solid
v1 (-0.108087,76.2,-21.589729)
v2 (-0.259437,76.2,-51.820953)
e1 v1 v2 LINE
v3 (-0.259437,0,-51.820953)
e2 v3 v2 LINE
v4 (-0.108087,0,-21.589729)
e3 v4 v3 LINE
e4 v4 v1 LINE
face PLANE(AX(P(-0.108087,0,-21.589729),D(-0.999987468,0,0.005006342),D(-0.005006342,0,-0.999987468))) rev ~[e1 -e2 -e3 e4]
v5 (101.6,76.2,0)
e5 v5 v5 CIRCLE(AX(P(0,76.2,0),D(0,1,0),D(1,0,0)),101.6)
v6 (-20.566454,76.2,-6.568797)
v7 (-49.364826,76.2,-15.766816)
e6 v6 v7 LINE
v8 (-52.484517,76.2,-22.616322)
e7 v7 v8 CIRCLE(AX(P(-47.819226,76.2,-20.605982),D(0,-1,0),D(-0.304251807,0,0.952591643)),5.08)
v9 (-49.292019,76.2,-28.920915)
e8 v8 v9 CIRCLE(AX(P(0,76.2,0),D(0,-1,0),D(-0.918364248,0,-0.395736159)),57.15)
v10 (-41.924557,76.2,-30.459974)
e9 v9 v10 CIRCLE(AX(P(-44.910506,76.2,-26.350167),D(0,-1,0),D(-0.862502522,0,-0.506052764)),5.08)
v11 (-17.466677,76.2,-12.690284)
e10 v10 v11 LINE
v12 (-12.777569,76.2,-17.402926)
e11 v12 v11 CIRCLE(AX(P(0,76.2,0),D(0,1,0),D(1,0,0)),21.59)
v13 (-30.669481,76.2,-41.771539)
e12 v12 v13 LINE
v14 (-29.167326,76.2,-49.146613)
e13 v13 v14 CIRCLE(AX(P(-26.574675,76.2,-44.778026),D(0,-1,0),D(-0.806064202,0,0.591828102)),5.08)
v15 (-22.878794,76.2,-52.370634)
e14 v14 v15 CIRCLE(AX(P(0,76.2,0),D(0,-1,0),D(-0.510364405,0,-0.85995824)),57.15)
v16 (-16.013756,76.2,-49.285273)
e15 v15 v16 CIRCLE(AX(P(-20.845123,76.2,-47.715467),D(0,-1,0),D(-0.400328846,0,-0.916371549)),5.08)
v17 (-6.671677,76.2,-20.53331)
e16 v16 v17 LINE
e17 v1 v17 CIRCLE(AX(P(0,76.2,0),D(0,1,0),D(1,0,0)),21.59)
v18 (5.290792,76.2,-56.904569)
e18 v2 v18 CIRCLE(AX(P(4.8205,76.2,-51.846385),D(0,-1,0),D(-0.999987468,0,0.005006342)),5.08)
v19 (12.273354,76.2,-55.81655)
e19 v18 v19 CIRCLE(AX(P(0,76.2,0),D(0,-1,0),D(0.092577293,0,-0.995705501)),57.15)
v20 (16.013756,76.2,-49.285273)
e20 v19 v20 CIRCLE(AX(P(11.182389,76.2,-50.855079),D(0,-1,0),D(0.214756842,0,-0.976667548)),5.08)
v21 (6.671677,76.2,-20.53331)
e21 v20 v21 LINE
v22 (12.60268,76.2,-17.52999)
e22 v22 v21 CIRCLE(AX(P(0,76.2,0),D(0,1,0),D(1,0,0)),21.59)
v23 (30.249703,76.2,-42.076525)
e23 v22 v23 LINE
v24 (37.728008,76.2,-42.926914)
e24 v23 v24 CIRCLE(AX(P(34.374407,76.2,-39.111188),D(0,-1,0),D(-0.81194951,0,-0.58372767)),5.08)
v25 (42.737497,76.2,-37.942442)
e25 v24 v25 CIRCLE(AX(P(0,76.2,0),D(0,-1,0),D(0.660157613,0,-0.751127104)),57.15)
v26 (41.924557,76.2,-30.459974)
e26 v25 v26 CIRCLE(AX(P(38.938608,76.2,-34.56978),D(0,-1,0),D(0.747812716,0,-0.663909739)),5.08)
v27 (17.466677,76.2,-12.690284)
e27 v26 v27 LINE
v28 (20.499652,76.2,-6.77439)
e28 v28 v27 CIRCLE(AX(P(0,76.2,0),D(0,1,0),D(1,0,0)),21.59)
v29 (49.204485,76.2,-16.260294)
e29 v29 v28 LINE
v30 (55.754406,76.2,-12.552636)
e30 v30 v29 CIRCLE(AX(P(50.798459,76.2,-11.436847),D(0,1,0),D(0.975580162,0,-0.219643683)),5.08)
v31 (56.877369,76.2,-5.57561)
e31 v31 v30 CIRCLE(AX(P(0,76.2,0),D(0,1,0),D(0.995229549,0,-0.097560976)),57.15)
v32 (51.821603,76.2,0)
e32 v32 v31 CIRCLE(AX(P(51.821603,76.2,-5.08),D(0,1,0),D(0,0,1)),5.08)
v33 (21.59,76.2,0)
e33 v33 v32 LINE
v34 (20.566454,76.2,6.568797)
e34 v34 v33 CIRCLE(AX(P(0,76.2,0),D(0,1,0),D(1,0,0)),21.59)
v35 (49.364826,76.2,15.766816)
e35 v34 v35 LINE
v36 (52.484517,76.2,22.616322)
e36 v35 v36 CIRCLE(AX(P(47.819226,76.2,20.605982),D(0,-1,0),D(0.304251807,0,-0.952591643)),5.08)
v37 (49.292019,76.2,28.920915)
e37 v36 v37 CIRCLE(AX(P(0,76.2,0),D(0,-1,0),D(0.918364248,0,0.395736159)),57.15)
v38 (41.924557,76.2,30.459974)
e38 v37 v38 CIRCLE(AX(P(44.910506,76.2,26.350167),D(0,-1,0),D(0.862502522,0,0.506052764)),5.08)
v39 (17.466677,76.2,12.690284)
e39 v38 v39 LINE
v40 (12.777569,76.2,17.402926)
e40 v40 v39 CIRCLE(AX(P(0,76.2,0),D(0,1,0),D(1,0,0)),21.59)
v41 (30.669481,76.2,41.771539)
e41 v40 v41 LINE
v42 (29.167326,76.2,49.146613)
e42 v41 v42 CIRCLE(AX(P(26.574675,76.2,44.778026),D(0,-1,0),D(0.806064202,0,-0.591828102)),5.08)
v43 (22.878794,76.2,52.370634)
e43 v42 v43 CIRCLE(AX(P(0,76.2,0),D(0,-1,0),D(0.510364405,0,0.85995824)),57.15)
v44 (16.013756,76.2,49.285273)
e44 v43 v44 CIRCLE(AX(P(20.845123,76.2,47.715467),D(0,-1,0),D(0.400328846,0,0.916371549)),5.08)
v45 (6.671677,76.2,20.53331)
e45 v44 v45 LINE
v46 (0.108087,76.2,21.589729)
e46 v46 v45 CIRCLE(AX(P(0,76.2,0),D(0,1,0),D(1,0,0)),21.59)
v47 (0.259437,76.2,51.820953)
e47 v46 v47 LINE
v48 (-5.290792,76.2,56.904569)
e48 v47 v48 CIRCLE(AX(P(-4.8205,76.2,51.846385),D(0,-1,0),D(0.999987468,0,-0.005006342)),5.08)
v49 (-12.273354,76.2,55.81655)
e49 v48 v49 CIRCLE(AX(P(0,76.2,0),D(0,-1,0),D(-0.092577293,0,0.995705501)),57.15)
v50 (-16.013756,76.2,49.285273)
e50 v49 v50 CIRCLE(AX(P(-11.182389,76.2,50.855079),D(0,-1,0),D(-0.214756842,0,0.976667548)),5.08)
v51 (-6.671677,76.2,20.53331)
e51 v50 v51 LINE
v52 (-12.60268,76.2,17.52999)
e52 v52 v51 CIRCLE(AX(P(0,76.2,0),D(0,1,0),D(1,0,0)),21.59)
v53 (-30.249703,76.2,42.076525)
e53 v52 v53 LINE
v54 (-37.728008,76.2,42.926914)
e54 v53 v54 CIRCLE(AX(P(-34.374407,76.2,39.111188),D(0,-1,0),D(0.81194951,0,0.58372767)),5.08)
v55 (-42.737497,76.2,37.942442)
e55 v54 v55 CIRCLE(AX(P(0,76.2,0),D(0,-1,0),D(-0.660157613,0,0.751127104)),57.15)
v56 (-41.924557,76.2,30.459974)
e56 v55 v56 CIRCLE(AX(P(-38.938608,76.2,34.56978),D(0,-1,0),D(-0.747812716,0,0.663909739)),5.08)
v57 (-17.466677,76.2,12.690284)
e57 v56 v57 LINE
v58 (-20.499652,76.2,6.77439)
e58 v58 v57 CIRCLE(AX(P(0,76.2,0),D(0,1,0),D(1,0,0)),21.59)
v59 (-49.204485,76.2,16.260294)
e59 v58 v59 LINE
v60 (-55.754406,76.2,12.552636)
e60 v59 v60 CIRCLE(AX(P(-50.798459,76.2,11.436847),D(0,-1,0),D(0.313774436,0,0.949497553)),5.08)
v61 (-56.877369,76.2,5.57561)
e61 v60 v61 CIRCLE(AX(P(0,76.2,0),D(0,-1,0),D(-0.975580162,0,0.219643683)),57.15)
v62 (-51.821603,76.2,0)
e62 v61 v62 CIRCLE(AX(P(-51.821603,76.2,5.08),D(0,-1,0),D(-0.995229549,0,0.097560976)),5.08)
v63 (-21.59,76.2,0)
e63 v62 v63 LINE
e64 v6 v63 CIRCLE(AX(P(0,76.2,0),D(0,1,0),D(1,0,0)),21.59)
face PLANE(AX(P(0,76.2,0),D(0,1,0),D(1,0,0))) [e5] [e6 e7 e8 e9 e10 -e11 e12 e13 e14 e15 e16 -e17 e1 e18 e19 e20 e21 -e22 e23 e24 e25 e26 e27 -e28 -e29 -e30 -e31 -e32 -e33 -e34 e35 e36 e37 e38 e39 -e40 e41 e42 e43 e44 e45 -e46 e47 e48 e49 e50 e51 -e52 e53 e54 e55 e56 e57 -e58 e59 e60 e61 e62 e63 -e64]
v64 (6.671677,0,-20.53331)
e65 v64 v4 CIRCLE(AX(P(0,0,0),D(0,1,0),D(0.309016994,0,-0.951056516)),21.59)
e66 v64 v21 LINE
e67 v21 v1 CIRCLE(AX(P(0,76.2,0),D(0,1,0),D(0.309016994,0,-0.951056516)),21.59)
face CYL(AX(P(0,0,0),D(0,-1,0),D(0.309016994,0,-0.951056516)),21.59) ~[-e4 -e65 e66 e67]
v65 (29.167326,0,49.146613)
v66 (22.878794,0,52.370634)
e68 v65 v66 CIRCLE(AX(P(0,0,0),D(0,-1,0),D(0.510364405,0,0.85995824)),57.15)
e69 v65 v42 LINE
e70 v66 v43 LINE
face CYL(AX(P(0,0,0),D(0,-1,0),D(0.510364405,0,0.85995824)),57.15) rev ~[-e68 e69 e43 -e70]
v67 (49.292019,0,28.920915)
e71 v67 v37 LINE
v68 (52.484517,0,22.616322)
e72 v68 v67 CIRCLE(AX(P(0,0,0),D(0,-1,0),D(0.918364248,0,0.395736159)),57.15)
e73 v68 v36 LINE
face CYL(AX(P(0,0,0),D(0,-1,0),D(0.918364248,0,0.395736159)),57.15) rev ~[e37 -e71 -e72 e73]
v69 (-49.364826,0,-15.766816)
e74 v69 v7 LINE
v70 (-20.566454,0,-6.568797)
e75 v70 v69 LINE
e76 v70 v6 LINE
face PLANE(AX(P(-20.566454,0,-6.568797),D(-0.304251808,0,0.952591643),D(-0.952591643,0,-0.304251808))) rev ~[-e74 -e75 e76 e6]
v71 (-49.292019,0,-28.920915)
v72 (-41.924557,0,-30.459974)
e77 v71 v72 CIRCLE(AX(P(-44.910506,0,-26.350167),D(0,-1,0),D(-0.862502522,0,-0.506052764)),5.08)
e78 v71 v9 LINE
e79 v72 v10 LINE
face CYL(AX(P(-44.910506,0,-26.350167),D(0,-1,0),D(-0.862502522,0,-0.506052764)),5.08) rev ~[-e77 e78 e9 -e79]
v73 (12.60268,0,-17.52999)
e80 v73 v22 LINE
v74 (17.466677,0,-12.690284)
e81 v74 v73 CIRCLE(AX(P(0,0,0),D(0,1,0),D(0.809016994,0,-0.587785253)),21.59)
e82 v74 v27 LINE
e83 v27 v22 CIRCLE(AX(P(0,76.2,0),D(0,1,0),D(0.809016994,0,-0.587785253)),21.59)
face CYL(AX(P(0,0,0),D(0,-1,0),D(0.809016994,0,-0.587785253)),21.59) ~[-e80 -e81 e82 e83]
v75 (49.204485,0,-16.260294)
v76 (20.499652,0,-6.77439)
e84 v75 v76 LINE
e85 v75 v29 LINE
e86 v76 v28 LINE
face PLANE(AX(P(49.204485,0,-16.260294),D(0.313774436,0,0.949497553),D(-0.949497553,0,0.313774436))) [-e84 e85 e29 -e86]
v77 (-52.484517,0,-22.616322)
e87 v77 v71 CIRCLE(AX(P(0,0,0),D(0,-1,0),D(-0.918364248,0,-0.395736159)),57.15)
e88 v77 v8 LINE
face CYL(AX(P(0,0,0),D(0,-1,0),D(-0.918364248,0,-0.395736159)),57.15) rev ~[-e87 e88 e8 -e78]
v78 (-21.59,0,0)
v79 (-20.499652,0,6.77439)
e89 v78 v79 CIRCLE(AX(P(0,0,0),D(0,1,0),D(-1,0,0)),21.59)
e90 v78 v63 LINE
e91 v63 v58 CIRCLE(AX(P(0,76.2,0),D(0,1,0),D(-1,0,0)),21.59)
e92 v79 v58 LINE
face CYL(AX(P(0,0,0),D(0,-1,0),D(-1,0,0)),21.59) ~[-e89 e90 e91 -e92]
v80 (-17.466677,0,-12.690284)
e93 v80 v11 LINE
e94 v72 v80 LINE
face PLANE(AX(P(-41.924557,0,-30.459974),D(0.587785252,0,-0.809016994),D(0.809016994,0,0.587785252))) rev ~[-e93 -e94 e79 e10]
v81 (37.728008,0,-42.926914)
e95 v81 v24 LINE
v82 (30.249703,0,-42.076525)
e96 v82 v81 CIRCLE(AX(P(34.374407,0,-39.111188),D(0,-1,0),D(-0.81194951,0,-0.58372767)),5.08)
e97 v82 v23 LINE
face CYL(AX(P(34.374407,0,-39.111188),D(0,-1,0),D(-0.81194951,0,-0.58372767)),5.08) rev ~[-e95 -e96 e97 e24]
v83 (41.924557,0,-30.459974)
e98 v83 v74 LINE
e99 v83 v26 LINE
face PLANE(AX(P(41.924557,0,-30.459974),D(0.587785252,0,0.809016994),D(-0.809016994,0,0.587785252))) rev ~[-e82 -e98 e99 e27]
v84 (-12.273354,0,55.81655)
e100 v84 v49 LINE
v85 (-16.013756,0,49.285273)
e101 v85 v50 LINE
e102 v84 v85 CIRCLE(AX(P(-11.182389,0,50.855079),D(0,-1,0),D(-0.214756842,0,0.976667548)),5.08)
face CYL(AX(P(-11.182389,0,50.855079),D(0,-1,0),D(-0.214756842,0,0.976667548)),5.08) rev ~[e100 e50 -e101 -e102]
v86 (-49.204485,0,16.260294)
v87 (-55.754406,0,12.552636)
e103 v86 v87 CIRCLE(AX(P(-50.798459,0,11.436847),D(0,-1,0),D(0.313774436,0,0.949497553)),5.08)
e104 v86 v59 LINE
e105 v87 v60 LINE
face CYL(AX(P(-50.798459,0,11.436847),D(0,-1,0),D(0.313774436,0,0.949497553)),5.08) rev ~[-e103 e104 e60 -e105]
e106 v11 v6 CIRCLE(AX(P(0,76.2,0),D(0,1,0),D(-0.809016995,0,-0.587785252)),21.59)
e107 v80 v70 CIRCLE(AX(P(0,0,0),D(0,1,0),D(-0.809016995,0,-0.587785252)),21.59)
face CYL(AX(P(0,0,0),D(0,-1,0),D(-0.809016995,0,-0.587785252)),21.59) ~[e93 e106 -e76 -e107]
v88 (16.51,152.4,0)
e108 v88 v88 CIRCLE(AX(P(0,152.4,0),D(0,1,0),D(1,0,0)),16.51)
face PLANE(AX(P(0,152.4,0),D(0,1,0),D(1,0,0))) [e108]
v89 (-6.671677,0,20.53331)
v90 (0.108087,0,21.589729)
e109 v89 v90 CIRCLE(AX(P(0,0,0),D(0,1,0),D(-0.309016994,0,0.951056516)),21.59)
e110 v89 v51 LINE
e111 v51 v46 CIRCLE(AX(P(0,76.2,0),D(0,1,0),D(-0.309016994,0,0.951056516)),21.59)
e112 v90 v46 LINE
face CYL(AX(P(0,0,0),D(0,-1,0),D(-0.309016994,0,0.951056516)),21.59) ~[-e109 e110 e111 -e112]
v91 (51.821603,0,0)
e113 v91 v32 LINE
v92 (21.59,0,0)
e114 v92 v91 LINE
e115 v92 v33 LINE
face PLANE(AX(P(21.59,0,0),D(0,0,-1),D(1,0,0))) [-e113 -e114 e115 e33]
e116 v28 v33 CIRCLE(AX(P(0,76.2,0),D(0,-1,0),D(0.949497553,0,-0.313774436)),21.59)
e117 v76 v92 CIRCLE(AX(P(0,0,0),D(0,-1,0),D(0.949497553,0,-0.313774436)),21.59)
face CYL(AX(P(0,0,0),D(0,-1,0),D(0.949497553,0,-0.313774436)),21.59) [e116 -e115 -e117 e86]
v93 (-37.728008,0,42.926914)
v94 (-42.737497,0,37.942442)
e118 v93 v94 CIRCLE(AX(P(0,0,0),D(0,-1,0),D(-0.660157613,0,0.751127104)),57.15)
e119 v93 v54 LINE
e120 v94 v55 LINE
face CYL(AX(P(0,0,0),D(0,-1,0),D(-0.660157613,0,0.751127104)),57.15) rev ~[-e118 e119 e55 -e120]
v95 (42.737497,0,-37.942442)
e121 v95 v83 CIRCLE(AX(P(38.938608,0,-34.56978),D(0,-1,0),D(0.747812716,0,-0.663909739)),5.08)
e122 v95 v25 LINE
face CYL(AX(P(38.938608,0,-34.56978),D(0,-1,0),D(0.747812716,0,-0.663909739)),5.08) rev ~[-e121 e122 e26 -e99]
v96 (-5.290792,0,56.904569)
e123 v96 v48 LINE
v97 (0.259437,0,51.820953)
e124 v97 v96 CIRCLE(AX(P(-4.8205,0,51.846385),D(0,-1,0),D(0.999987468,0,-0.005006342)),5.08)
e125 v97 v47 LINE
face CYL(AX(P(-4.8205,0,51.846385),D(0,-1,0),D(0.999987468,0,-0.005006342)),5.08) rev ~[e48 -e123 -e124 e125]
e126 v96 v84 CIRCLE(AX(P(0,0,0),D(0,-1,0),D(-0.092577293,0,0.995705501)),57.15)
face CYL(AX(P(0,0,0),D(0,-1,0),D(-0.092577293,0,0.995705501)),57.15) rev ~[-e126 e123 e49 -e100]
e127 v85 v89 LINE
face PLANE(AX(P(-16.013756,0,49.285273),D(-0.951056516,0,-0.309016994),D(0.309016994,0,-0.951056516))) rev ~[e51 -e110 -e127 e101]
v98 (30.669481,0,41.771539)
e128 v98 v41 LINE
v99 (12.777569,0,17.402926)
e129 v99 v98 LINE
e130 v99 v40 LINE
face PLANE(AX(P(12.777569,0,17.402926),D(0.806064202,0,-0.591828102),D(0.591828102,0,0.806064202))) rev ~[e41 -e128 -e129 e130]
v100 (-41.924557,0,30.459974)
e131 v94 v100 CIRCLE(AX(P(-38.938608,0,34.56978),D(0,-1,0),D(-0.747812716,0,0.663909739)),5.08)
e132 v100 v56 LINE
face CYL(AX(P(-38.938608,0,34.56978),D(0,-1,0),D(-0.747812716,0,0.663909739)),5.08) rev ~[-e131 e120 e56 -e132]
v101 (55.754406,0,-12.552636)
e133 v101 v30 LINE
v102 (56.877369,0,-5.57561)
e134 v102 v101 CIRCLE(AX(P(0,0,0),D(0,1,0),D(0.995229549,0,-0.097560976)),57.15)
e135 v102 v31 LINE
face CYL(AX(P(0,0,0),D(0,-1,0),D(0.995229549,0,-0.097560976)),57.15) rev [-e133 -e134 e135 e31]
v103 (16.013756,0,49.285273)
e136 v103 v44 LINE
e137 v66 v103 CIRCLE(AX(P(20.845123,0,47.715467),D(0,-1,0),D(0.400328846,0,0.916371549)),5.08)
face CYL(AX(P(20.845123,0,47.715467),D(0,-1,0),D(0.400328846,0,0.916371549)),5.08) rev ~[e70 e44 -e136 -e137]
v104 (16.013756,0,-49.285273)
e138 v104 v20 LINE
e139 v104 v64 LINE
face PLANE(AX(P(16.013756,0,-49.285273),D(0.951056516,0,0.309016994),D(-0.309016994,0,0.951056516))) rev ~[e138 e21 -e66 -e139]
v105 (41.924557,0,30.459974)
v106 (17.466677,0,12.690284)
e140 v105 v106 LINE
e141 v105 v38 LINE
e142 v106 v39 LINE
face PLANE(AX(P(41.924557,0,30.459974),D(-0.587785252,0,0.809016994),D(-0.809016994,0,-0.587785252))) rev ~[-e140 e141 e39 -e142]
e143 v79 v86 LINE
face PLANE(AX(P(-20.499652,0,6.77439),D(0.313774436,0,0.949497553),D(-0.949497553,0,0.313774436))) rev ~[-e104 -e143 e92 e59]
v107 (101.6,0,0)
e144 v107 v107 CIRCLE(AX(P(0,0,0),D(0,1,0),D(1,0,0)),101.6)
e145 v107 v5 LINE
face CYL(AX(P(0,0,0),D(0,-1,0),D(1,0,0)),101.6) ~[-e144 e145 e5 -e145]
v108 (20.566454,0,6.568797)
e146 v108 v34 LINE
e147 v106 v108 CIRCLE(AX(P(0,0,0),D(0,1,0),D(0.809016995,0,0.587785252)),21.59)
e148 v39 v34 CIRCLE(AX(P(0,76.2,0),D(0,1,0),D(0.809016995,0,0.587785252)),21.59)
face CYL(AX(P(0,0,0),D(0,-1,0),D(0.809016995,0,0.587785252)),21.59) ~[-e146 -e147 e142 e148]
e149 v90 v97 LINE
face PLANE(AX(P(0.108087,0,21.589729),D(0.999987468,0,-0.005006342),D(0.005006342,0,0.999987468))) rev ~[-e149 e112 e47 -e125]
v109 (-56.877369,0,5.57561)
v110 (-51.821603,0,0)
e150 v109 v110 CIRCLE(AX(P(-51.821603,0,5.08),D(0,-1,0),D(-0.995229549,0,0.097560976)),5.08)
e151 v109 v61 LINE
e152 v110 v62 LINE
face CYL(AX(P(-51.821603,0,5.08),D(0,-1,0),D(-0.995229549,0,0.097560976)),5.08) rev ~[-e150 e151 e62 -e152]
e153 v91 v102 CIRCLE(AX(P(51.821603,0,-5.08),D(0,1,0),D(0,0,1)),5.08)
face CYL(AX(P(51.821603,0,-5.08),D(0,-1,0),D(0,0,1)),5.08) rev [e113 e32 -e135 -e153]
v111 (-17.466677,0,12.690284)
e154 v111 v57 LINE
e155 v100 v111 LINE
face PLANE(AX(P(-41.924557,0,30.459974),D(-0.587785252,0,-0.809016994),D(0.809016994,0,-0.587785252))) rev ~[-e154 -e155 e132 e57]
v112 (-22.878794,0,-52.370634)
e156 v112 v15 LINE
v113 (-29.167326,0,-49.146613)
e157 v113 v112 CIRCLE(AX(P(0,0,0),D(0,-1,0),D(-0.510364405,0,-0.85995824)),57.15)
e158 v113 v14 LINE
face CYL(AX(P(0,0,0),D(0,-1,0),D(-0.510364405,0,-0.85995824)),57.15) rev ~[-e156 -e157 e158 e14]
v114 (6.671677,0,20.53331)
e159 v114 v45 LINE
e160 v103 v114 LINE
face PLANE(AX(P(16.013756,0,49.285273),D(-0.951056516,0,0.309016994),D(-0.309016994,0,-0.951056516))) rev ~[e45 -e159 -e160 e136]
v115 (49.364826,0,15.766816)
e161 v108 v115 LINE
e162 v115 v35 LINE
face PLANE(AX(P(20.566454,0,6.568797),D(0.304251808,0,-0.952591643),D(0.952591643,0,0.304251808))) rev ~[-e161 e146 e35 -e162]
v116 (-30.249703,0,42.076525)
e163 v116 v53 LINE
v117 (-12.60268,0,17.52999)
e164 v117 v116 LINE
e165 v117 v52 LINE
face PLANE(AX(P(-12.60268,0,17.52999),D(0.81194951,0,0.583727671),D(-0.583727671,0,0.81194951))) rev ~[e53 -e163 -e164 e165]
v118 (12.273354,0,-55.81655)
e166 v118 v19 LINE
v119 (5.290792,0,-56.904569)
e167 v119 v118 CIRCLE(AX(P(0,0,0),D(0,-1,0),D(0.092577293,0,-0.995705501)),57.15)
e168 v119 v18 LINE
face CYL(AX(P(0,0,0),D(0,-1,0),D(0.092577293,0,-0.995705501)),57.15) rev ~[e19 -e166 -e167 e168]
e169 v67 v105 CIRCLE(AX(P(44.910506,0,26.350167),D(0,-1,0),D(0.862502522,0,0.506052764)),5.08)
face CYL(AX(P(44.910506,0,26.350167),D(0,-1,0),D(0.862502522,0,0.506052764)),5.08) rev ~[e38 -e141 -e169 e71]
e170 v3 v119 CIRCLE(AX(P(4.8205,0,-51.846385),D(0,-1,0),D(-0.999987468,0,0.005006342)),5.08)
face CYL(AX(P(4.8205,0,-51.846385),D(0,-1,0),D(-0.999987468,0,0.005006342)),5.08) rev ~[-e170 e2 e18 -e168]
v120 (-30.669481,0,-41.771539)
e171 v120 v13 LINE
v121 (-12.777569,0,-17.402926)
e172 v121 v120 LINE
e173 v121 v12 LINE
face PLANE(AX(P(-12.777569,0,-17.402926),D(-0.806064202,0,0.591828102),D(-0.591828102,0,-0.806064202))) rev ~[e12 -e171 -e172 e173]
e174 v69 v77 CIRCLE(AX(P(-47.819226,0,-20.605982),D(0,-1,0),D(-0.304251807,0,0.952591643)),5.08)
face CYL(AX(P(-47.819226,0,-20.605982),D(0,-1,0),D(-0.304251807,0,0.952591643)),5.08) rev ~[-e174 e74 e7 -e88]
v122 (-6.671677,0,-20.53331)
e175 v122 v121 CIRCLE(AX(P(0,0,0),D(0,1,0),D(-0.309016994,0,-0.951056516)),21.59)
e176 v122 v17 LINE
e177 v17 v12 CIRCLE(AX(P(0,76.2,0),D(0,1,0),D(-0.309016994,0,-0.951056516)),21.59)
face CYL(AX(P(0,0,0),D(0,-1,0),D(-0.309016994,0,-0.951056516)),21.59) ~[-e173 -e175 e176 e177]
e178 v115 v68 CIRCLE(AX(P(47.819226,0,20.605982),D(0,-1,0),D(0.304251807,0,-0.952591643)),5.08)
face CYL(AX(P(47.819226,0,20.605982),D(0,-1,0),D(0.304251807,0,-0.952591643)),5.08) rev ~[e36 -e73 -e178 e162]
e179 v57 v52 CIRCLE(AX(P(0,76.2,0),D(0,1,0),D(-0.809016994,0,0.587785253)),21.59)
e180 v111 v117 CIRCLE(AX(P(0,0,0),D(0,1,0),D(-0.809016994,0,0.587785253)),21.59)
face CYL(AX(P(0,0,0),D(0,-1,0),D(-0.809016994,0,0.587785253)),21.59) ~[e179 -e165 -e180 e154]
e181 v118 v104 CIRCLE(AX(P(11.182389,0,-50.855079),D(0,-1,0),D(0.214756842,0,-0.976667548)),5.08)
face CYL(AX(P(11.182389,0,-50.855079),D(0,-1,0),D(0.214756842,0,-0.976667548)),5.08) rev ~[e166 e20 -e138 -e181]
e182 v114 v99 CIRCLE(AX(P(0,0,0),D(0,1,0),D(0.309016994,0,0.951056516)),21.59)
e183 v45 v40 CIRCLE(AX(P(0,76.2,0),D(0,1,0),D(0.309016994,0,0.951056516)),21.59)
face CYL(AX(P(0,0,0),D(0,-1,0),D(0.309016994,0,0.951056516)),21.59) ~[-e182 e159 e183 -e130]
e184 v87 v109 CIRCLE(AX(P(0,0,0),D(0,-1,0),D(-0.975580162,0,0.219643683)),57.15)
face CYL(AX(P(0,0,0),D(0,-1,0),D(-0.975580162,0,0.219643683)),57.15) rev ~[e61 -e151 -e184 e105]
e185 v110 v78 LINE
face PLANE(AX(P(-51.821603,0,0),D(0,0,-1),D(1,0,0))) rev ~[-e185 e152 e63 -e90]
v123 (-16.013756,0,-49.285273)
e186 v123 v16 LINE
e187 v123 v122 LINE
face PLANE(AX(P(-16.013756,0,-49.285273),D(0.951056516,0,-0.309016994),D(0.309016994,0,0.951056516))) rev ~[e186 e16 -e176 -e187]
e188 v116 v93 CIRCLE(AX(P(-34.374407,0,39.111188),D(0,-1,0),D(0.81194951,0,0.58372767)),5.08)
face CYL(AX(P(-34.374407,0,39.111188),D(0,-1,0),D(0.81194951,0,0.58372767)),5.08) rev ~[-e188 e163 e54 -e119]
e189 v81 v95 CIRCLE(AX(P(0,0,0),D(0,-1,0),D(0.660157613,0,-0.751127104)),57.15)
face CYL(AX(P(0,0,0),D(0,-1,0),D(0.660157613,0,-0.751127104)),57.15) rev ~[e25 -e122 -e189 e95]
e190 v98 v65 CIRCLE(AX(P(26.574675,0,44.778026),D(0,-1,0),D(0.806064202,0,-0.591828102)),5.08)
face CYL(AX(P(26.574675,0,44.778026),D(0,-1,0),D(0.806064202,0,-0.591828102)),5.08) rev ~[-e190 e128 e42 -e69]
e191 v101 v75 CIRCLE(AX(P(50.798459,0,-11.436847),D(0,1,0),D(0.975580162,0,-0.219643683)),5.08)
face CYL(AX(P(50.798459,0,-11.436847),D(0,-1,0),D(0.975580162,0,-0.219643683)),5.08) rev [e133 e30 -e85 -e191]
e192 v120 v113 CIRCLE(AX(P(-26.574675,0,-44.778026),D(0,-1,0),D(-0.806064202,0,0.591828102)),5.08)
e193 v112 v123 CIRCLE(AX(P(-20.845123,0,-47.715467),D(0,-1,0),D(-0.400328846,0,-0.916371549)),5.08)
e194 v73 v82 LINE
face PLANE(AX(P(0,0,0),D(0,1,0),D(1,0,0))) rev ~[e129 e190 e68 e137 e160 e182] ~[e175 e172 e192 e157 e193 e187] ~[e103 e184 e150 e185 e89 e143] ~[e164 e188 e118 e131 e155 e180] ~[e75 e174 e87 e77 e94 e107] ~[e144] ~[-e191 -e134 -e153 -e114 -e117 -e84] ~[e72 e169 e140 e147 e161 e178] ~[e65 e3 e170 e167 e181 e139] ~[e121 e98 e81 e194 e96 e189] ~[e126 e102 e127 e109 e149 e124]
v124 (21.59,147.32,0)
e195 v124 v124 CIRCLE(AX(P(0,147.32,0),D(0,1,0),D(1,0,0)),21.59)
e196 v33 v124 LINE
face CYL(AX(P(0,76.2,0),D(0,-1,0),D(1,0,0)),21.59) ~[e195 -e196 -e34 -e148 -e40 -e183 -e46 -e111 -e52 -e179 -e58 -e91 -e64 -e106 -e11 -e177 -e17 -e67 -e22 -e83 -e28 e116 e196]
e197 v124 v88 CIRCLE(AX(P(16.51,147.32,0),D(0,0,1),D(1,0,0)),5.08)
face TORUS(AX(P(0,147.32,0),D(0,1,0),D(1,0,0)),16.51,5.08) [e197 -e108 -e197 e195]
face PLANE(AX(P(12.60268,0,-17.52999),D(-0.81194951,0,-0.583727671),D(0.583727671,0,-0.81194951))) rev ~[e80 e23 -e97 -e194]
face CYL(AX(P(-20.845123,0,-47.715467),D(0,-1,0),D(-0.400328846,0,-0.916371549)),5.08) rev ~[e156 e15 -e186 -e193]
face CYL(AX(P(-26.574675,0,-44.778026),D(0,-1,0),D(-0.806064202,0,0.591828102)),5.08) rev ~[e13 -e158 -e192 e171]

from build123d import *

# Parameters (mm, degrees)
SKETCH1_R           = 101.6
BOSS_EXTRUDE1_DEPTH = 76.2
SKETCH2_R           = 21.59
BOSS_EXTRUDE2_DEPTH = 76.2
FILLET1_R           = 5.08


with BuildPart() as part:
    # Sketch1 → Boss-Extrude1 (new body)
    with BuildSketch(Plane(origin=(0, 0, 0), x_dir=(1, 0, 0), z_dir=(0, 1, 0))):
        Circle(SKETCH1_R)
        with BuildLine():
            Line((21.59, 0), (51.821602638, 0))
            ThreePointArc((51.821602638, 0), (55.584852402, 1.667617955), (56.877368749, 5.575609756))
            ThreePointArc((56.877368749, 5.575609756), (56.423832827, 9.081497074), (55.75440626, 12.552636482))
            ThreePointArc((55.75440626, 12.552636482), (53.300937227, 15.857706546), (49.204484901, 16.260294142))
            Line((49.204484901, 16.260294142), (20.499652171, 6.774390074))
            ThreePointArc((20.499652171, 6.774390074), (21.315670179, 3.430787784), (21.59, 0))
        make_face(mode=Mode.SUBTRACT)
        with BuildLine():
            Line((20.566453564, -6.568796527), (49.364825579, -15.766816277))
            ThreePointArc((49.364825579, -15.766816277), (52.442290076, -18.500350747), (52.484516777, -22.616321511))
            ThreePointArc((52.484516777, -22.616321511), (50.985809694, -25.818011346), (49.292019101, -28.920915493))
            ThreePointArc((49.292019101, -28.920915493), (45.949291463, -31.322825227), (41.92455721, -30.459973781))
            Line((41.92455721, -30.459973781), (17.466676909, -12.690283597))
            ThreePointArc((17.466676909, -12.690283597), (19.261305884, -9.753470953), (20.566453564, -6.568796527))
        make_face(mode=Mode.SUBTRACT)
        with BuildLine():
            Line((12.777568723, -17.402926119), (30.669480735, -41.771538773))
            ThreePointArc((30.669480735, -41.771538773), (31.552470563, -45.791902859), (29.167325768, -49.146613388))
            ThreePointArc((29.167325768, -49.146613388), (26.072940201, -50.855916954), (22.87879353, -52.37063401))
            ThreePointArc((22.87879353, -52.37063401), (18.762662945, -52.349013795), (16.013755891, -49.285272874))
            Line((16.013755891, -49.285272874), (6.671676909, -20.533310187))
            ThreePointArc((6.671676909, -20.533310187), (9.849777409, -19.212235294), (12.777568723, -17.402926119))
        make_face(mode=Mode.SUBTRACT)
        with BuildLine():
            Line((0.108086924, -21.589729438), (0.259436667, -51.82095322))
            ThreePointArc((0.259436667, -51.82095322), (-1.389320275, -55.592504489), (-5.290792323, -56.904569382))
            ThreePointArc((-5.290792323, -56.904569382), (-8.798906261, -56.468590815), (-12.273353548, -55.816550347))
            ThreePointArc((-12.273353548, -55.816550347), (-15.590665099, -53.379658372), (-16.013755891, -49.285272874))
            Line((-16.013755891, -49.285272874), (-6.671676909, -20.533310187))
            ThreePointArc((-6.671676909, -20.533310187), (-3.324031254, -21.332578752), (0.108086924, -21.589729438))
        make_face(mode=Mode.SUBTRACT)
        with BuildLine():
            Line((-12.602680406, -17.52998992), (-30.24970339, -42.076524866))
            ThreePointArc((-30.24970339, -42.076524866), (-33.800437989, -44.158658923), (-37.728007574, -42.926913988))
            ThreePointArc((-37.728007574, -42.926913988), (-40.309869596, -40.512182281), (-42.737496726, -37.942441587))
            ThreePointArc((-42.737496726, -37.942441587), (-43.988888982, -34.021087758), (-41.92455721, -30.459973781))
            Line((-41.92455721, -30.459973781), (-17.466676909, -12.690283597))
            ThreePointArc((-17.466676909, -12.690283597), (-15.228172958, -15.304602195), (-12.602680406, -17.52998992))
        make_face(mode=Mode.SUBTRACT)
        with BuildLine():
            Line((-20.499652171, -6.774390074), (-49.204484901, -16.260294142))
            ThreePointArc((-49.204484901, -16.260294142), (-53.300937227, -15.857706546), (-55.75440626, -12.552636482))
            ThreePointArc((-55.75440626, -12.552636482), (-56.423832827, -9.081497074), (-56.877368749, -5.575609756))
            ThreePointArc((-56.877368749, -5.575609756), (-55.584852402, -1.667617955), (-51.821602638, 0))
            Line((-51.821602638, 0), (-21.59, 0))
            ThreePointArc((-21.59, 0), (-21.315670179, -3.430787784), (-20.499652171, -6.774390074))
        make_face(mode=Mode.SUBTRACT)
        with BuildLine():
            Line((-20.566453564, 6.568796527), (-49.364825579, 15.766816277))
            ThreePointArc((-49.364825579, 15.766816277), (-52.442290076, 18.500350747), (-52.484516777, 22.616321511))
            ThreePointArc((-52.484516777, 22.616321511), (-50.985809694, 25.818011346), (-49.292019101, 28.920915493))
            ThreePointArc((-49.292019101, 28.920915493), (-45.949291463, 31.322825227), (-41.92455721, 30.459973781))
            Line((-41.92455721, 30.459973781), (-17.466676909, 12.690283597))
            ThreePointArc((-17.466676909, 12.690283597), (-19.261305884, 9.753470953), (-20.566453564, 6.568796527))
        make_face(mode=Mode.SUBTRACT)
        with BuildLine():
            Line((-12.777568723, 17.402926119), (-30.669480735, 41.771538773))
            ThreePointArc((-30.669480735, 41.771538773), (-31.552470563, 45.791902859), (-29.167325768, 49.146613388))
            ThreePointArc((-29.167325768, 49.146613388), (-26.072940201, 50.855916954), (-22.87879353, 52.37063401))
            ThreePointArc((-22.87879353, 52.37063401), (-18.762662945, 52.349013795), (-16.013755891, 49.285272874))
            Line((-16.013755891, 49.285272874), (-6.671676909, 20.533310187))
            ThreePointArc((-6.671676909, 20.533310187), (-9.849777409, 19.212235294), (-12.777568723, 17.402926119))
        make_face(mode=Mode.SUBTRACT)
        with BuildLine():
            Line((-0.108086924, 21.589729438), (-0.259436667, 51.82095322))
            ThreePointArc((-0.259436667, 51.82095322), (1.389320275, 55.592504489), (5.290792323, 56.904569382))
            ThreePointArc((5.290792323, 56.904569382), (8.798906261, 56.468590815), (12.273353548, 55.816550347))
            ThreePointArc((12.273353548, 55.816550347), (15.590665099, 53.379658372), (16.013755891, 49.285272874))
            Line((16.013755891, 49.285272874), (6.671676909, 20.533310187))
            ThreePointArc((6.671676909, 20.533310187), (3.324031254, 21.332578752), (-0.108086924, 21.589729438))
        make_face(mode=Mode.SUBTRACT)
        with BuildLine():
            Line((12.602680406, 17.52998992), (30.24970339, 42.076524866))
            ThreePointArc((30.24970339, 42.076524866), (33.800437989, 44.158658923), (37.728007574, 42.926913988))
            ThreePointArc((37.728007574, 42.926913988), (40.309869596, 40.512182281), (42.737496726, 37.942441587))
            ThreePointArc((42.737496726, 37.942441587), (43.988888982, 34.021087758), (41.92455721, 30.459973781))
            Line((41.92455721, 30.459973781), (17.466676909, 12.690283597))
            ThreePointArc((17.466676909, 12.690283597), (15.228172958, 15.304602195), (12.602680406, 17.52998992))
        make_face(mode=Mode.SUBTRACT)
    extrude(amount=BOSS_EXTRUDE1_DEPTH)

    # Sketch2 → Boss-Extrude2 (add)
    with BuildSketch(Plane(origin=(0, 76.2, 0), x_dir=(1, 0, 0), z_dir=(0, 1, 0))):
        Circle(SKETCH2_R)
    extrude(amount=BOSS_EXTRUDE2_DEPTH)

    # Fillet1
    fillet1_edges = [part.edges().sort_by_distance(p)[0] for p in [
        (-21.59, 152.4, 0),
    ]]
    fillet(fillet1_edges, radius=FILLET1_R)


solid = part.part
